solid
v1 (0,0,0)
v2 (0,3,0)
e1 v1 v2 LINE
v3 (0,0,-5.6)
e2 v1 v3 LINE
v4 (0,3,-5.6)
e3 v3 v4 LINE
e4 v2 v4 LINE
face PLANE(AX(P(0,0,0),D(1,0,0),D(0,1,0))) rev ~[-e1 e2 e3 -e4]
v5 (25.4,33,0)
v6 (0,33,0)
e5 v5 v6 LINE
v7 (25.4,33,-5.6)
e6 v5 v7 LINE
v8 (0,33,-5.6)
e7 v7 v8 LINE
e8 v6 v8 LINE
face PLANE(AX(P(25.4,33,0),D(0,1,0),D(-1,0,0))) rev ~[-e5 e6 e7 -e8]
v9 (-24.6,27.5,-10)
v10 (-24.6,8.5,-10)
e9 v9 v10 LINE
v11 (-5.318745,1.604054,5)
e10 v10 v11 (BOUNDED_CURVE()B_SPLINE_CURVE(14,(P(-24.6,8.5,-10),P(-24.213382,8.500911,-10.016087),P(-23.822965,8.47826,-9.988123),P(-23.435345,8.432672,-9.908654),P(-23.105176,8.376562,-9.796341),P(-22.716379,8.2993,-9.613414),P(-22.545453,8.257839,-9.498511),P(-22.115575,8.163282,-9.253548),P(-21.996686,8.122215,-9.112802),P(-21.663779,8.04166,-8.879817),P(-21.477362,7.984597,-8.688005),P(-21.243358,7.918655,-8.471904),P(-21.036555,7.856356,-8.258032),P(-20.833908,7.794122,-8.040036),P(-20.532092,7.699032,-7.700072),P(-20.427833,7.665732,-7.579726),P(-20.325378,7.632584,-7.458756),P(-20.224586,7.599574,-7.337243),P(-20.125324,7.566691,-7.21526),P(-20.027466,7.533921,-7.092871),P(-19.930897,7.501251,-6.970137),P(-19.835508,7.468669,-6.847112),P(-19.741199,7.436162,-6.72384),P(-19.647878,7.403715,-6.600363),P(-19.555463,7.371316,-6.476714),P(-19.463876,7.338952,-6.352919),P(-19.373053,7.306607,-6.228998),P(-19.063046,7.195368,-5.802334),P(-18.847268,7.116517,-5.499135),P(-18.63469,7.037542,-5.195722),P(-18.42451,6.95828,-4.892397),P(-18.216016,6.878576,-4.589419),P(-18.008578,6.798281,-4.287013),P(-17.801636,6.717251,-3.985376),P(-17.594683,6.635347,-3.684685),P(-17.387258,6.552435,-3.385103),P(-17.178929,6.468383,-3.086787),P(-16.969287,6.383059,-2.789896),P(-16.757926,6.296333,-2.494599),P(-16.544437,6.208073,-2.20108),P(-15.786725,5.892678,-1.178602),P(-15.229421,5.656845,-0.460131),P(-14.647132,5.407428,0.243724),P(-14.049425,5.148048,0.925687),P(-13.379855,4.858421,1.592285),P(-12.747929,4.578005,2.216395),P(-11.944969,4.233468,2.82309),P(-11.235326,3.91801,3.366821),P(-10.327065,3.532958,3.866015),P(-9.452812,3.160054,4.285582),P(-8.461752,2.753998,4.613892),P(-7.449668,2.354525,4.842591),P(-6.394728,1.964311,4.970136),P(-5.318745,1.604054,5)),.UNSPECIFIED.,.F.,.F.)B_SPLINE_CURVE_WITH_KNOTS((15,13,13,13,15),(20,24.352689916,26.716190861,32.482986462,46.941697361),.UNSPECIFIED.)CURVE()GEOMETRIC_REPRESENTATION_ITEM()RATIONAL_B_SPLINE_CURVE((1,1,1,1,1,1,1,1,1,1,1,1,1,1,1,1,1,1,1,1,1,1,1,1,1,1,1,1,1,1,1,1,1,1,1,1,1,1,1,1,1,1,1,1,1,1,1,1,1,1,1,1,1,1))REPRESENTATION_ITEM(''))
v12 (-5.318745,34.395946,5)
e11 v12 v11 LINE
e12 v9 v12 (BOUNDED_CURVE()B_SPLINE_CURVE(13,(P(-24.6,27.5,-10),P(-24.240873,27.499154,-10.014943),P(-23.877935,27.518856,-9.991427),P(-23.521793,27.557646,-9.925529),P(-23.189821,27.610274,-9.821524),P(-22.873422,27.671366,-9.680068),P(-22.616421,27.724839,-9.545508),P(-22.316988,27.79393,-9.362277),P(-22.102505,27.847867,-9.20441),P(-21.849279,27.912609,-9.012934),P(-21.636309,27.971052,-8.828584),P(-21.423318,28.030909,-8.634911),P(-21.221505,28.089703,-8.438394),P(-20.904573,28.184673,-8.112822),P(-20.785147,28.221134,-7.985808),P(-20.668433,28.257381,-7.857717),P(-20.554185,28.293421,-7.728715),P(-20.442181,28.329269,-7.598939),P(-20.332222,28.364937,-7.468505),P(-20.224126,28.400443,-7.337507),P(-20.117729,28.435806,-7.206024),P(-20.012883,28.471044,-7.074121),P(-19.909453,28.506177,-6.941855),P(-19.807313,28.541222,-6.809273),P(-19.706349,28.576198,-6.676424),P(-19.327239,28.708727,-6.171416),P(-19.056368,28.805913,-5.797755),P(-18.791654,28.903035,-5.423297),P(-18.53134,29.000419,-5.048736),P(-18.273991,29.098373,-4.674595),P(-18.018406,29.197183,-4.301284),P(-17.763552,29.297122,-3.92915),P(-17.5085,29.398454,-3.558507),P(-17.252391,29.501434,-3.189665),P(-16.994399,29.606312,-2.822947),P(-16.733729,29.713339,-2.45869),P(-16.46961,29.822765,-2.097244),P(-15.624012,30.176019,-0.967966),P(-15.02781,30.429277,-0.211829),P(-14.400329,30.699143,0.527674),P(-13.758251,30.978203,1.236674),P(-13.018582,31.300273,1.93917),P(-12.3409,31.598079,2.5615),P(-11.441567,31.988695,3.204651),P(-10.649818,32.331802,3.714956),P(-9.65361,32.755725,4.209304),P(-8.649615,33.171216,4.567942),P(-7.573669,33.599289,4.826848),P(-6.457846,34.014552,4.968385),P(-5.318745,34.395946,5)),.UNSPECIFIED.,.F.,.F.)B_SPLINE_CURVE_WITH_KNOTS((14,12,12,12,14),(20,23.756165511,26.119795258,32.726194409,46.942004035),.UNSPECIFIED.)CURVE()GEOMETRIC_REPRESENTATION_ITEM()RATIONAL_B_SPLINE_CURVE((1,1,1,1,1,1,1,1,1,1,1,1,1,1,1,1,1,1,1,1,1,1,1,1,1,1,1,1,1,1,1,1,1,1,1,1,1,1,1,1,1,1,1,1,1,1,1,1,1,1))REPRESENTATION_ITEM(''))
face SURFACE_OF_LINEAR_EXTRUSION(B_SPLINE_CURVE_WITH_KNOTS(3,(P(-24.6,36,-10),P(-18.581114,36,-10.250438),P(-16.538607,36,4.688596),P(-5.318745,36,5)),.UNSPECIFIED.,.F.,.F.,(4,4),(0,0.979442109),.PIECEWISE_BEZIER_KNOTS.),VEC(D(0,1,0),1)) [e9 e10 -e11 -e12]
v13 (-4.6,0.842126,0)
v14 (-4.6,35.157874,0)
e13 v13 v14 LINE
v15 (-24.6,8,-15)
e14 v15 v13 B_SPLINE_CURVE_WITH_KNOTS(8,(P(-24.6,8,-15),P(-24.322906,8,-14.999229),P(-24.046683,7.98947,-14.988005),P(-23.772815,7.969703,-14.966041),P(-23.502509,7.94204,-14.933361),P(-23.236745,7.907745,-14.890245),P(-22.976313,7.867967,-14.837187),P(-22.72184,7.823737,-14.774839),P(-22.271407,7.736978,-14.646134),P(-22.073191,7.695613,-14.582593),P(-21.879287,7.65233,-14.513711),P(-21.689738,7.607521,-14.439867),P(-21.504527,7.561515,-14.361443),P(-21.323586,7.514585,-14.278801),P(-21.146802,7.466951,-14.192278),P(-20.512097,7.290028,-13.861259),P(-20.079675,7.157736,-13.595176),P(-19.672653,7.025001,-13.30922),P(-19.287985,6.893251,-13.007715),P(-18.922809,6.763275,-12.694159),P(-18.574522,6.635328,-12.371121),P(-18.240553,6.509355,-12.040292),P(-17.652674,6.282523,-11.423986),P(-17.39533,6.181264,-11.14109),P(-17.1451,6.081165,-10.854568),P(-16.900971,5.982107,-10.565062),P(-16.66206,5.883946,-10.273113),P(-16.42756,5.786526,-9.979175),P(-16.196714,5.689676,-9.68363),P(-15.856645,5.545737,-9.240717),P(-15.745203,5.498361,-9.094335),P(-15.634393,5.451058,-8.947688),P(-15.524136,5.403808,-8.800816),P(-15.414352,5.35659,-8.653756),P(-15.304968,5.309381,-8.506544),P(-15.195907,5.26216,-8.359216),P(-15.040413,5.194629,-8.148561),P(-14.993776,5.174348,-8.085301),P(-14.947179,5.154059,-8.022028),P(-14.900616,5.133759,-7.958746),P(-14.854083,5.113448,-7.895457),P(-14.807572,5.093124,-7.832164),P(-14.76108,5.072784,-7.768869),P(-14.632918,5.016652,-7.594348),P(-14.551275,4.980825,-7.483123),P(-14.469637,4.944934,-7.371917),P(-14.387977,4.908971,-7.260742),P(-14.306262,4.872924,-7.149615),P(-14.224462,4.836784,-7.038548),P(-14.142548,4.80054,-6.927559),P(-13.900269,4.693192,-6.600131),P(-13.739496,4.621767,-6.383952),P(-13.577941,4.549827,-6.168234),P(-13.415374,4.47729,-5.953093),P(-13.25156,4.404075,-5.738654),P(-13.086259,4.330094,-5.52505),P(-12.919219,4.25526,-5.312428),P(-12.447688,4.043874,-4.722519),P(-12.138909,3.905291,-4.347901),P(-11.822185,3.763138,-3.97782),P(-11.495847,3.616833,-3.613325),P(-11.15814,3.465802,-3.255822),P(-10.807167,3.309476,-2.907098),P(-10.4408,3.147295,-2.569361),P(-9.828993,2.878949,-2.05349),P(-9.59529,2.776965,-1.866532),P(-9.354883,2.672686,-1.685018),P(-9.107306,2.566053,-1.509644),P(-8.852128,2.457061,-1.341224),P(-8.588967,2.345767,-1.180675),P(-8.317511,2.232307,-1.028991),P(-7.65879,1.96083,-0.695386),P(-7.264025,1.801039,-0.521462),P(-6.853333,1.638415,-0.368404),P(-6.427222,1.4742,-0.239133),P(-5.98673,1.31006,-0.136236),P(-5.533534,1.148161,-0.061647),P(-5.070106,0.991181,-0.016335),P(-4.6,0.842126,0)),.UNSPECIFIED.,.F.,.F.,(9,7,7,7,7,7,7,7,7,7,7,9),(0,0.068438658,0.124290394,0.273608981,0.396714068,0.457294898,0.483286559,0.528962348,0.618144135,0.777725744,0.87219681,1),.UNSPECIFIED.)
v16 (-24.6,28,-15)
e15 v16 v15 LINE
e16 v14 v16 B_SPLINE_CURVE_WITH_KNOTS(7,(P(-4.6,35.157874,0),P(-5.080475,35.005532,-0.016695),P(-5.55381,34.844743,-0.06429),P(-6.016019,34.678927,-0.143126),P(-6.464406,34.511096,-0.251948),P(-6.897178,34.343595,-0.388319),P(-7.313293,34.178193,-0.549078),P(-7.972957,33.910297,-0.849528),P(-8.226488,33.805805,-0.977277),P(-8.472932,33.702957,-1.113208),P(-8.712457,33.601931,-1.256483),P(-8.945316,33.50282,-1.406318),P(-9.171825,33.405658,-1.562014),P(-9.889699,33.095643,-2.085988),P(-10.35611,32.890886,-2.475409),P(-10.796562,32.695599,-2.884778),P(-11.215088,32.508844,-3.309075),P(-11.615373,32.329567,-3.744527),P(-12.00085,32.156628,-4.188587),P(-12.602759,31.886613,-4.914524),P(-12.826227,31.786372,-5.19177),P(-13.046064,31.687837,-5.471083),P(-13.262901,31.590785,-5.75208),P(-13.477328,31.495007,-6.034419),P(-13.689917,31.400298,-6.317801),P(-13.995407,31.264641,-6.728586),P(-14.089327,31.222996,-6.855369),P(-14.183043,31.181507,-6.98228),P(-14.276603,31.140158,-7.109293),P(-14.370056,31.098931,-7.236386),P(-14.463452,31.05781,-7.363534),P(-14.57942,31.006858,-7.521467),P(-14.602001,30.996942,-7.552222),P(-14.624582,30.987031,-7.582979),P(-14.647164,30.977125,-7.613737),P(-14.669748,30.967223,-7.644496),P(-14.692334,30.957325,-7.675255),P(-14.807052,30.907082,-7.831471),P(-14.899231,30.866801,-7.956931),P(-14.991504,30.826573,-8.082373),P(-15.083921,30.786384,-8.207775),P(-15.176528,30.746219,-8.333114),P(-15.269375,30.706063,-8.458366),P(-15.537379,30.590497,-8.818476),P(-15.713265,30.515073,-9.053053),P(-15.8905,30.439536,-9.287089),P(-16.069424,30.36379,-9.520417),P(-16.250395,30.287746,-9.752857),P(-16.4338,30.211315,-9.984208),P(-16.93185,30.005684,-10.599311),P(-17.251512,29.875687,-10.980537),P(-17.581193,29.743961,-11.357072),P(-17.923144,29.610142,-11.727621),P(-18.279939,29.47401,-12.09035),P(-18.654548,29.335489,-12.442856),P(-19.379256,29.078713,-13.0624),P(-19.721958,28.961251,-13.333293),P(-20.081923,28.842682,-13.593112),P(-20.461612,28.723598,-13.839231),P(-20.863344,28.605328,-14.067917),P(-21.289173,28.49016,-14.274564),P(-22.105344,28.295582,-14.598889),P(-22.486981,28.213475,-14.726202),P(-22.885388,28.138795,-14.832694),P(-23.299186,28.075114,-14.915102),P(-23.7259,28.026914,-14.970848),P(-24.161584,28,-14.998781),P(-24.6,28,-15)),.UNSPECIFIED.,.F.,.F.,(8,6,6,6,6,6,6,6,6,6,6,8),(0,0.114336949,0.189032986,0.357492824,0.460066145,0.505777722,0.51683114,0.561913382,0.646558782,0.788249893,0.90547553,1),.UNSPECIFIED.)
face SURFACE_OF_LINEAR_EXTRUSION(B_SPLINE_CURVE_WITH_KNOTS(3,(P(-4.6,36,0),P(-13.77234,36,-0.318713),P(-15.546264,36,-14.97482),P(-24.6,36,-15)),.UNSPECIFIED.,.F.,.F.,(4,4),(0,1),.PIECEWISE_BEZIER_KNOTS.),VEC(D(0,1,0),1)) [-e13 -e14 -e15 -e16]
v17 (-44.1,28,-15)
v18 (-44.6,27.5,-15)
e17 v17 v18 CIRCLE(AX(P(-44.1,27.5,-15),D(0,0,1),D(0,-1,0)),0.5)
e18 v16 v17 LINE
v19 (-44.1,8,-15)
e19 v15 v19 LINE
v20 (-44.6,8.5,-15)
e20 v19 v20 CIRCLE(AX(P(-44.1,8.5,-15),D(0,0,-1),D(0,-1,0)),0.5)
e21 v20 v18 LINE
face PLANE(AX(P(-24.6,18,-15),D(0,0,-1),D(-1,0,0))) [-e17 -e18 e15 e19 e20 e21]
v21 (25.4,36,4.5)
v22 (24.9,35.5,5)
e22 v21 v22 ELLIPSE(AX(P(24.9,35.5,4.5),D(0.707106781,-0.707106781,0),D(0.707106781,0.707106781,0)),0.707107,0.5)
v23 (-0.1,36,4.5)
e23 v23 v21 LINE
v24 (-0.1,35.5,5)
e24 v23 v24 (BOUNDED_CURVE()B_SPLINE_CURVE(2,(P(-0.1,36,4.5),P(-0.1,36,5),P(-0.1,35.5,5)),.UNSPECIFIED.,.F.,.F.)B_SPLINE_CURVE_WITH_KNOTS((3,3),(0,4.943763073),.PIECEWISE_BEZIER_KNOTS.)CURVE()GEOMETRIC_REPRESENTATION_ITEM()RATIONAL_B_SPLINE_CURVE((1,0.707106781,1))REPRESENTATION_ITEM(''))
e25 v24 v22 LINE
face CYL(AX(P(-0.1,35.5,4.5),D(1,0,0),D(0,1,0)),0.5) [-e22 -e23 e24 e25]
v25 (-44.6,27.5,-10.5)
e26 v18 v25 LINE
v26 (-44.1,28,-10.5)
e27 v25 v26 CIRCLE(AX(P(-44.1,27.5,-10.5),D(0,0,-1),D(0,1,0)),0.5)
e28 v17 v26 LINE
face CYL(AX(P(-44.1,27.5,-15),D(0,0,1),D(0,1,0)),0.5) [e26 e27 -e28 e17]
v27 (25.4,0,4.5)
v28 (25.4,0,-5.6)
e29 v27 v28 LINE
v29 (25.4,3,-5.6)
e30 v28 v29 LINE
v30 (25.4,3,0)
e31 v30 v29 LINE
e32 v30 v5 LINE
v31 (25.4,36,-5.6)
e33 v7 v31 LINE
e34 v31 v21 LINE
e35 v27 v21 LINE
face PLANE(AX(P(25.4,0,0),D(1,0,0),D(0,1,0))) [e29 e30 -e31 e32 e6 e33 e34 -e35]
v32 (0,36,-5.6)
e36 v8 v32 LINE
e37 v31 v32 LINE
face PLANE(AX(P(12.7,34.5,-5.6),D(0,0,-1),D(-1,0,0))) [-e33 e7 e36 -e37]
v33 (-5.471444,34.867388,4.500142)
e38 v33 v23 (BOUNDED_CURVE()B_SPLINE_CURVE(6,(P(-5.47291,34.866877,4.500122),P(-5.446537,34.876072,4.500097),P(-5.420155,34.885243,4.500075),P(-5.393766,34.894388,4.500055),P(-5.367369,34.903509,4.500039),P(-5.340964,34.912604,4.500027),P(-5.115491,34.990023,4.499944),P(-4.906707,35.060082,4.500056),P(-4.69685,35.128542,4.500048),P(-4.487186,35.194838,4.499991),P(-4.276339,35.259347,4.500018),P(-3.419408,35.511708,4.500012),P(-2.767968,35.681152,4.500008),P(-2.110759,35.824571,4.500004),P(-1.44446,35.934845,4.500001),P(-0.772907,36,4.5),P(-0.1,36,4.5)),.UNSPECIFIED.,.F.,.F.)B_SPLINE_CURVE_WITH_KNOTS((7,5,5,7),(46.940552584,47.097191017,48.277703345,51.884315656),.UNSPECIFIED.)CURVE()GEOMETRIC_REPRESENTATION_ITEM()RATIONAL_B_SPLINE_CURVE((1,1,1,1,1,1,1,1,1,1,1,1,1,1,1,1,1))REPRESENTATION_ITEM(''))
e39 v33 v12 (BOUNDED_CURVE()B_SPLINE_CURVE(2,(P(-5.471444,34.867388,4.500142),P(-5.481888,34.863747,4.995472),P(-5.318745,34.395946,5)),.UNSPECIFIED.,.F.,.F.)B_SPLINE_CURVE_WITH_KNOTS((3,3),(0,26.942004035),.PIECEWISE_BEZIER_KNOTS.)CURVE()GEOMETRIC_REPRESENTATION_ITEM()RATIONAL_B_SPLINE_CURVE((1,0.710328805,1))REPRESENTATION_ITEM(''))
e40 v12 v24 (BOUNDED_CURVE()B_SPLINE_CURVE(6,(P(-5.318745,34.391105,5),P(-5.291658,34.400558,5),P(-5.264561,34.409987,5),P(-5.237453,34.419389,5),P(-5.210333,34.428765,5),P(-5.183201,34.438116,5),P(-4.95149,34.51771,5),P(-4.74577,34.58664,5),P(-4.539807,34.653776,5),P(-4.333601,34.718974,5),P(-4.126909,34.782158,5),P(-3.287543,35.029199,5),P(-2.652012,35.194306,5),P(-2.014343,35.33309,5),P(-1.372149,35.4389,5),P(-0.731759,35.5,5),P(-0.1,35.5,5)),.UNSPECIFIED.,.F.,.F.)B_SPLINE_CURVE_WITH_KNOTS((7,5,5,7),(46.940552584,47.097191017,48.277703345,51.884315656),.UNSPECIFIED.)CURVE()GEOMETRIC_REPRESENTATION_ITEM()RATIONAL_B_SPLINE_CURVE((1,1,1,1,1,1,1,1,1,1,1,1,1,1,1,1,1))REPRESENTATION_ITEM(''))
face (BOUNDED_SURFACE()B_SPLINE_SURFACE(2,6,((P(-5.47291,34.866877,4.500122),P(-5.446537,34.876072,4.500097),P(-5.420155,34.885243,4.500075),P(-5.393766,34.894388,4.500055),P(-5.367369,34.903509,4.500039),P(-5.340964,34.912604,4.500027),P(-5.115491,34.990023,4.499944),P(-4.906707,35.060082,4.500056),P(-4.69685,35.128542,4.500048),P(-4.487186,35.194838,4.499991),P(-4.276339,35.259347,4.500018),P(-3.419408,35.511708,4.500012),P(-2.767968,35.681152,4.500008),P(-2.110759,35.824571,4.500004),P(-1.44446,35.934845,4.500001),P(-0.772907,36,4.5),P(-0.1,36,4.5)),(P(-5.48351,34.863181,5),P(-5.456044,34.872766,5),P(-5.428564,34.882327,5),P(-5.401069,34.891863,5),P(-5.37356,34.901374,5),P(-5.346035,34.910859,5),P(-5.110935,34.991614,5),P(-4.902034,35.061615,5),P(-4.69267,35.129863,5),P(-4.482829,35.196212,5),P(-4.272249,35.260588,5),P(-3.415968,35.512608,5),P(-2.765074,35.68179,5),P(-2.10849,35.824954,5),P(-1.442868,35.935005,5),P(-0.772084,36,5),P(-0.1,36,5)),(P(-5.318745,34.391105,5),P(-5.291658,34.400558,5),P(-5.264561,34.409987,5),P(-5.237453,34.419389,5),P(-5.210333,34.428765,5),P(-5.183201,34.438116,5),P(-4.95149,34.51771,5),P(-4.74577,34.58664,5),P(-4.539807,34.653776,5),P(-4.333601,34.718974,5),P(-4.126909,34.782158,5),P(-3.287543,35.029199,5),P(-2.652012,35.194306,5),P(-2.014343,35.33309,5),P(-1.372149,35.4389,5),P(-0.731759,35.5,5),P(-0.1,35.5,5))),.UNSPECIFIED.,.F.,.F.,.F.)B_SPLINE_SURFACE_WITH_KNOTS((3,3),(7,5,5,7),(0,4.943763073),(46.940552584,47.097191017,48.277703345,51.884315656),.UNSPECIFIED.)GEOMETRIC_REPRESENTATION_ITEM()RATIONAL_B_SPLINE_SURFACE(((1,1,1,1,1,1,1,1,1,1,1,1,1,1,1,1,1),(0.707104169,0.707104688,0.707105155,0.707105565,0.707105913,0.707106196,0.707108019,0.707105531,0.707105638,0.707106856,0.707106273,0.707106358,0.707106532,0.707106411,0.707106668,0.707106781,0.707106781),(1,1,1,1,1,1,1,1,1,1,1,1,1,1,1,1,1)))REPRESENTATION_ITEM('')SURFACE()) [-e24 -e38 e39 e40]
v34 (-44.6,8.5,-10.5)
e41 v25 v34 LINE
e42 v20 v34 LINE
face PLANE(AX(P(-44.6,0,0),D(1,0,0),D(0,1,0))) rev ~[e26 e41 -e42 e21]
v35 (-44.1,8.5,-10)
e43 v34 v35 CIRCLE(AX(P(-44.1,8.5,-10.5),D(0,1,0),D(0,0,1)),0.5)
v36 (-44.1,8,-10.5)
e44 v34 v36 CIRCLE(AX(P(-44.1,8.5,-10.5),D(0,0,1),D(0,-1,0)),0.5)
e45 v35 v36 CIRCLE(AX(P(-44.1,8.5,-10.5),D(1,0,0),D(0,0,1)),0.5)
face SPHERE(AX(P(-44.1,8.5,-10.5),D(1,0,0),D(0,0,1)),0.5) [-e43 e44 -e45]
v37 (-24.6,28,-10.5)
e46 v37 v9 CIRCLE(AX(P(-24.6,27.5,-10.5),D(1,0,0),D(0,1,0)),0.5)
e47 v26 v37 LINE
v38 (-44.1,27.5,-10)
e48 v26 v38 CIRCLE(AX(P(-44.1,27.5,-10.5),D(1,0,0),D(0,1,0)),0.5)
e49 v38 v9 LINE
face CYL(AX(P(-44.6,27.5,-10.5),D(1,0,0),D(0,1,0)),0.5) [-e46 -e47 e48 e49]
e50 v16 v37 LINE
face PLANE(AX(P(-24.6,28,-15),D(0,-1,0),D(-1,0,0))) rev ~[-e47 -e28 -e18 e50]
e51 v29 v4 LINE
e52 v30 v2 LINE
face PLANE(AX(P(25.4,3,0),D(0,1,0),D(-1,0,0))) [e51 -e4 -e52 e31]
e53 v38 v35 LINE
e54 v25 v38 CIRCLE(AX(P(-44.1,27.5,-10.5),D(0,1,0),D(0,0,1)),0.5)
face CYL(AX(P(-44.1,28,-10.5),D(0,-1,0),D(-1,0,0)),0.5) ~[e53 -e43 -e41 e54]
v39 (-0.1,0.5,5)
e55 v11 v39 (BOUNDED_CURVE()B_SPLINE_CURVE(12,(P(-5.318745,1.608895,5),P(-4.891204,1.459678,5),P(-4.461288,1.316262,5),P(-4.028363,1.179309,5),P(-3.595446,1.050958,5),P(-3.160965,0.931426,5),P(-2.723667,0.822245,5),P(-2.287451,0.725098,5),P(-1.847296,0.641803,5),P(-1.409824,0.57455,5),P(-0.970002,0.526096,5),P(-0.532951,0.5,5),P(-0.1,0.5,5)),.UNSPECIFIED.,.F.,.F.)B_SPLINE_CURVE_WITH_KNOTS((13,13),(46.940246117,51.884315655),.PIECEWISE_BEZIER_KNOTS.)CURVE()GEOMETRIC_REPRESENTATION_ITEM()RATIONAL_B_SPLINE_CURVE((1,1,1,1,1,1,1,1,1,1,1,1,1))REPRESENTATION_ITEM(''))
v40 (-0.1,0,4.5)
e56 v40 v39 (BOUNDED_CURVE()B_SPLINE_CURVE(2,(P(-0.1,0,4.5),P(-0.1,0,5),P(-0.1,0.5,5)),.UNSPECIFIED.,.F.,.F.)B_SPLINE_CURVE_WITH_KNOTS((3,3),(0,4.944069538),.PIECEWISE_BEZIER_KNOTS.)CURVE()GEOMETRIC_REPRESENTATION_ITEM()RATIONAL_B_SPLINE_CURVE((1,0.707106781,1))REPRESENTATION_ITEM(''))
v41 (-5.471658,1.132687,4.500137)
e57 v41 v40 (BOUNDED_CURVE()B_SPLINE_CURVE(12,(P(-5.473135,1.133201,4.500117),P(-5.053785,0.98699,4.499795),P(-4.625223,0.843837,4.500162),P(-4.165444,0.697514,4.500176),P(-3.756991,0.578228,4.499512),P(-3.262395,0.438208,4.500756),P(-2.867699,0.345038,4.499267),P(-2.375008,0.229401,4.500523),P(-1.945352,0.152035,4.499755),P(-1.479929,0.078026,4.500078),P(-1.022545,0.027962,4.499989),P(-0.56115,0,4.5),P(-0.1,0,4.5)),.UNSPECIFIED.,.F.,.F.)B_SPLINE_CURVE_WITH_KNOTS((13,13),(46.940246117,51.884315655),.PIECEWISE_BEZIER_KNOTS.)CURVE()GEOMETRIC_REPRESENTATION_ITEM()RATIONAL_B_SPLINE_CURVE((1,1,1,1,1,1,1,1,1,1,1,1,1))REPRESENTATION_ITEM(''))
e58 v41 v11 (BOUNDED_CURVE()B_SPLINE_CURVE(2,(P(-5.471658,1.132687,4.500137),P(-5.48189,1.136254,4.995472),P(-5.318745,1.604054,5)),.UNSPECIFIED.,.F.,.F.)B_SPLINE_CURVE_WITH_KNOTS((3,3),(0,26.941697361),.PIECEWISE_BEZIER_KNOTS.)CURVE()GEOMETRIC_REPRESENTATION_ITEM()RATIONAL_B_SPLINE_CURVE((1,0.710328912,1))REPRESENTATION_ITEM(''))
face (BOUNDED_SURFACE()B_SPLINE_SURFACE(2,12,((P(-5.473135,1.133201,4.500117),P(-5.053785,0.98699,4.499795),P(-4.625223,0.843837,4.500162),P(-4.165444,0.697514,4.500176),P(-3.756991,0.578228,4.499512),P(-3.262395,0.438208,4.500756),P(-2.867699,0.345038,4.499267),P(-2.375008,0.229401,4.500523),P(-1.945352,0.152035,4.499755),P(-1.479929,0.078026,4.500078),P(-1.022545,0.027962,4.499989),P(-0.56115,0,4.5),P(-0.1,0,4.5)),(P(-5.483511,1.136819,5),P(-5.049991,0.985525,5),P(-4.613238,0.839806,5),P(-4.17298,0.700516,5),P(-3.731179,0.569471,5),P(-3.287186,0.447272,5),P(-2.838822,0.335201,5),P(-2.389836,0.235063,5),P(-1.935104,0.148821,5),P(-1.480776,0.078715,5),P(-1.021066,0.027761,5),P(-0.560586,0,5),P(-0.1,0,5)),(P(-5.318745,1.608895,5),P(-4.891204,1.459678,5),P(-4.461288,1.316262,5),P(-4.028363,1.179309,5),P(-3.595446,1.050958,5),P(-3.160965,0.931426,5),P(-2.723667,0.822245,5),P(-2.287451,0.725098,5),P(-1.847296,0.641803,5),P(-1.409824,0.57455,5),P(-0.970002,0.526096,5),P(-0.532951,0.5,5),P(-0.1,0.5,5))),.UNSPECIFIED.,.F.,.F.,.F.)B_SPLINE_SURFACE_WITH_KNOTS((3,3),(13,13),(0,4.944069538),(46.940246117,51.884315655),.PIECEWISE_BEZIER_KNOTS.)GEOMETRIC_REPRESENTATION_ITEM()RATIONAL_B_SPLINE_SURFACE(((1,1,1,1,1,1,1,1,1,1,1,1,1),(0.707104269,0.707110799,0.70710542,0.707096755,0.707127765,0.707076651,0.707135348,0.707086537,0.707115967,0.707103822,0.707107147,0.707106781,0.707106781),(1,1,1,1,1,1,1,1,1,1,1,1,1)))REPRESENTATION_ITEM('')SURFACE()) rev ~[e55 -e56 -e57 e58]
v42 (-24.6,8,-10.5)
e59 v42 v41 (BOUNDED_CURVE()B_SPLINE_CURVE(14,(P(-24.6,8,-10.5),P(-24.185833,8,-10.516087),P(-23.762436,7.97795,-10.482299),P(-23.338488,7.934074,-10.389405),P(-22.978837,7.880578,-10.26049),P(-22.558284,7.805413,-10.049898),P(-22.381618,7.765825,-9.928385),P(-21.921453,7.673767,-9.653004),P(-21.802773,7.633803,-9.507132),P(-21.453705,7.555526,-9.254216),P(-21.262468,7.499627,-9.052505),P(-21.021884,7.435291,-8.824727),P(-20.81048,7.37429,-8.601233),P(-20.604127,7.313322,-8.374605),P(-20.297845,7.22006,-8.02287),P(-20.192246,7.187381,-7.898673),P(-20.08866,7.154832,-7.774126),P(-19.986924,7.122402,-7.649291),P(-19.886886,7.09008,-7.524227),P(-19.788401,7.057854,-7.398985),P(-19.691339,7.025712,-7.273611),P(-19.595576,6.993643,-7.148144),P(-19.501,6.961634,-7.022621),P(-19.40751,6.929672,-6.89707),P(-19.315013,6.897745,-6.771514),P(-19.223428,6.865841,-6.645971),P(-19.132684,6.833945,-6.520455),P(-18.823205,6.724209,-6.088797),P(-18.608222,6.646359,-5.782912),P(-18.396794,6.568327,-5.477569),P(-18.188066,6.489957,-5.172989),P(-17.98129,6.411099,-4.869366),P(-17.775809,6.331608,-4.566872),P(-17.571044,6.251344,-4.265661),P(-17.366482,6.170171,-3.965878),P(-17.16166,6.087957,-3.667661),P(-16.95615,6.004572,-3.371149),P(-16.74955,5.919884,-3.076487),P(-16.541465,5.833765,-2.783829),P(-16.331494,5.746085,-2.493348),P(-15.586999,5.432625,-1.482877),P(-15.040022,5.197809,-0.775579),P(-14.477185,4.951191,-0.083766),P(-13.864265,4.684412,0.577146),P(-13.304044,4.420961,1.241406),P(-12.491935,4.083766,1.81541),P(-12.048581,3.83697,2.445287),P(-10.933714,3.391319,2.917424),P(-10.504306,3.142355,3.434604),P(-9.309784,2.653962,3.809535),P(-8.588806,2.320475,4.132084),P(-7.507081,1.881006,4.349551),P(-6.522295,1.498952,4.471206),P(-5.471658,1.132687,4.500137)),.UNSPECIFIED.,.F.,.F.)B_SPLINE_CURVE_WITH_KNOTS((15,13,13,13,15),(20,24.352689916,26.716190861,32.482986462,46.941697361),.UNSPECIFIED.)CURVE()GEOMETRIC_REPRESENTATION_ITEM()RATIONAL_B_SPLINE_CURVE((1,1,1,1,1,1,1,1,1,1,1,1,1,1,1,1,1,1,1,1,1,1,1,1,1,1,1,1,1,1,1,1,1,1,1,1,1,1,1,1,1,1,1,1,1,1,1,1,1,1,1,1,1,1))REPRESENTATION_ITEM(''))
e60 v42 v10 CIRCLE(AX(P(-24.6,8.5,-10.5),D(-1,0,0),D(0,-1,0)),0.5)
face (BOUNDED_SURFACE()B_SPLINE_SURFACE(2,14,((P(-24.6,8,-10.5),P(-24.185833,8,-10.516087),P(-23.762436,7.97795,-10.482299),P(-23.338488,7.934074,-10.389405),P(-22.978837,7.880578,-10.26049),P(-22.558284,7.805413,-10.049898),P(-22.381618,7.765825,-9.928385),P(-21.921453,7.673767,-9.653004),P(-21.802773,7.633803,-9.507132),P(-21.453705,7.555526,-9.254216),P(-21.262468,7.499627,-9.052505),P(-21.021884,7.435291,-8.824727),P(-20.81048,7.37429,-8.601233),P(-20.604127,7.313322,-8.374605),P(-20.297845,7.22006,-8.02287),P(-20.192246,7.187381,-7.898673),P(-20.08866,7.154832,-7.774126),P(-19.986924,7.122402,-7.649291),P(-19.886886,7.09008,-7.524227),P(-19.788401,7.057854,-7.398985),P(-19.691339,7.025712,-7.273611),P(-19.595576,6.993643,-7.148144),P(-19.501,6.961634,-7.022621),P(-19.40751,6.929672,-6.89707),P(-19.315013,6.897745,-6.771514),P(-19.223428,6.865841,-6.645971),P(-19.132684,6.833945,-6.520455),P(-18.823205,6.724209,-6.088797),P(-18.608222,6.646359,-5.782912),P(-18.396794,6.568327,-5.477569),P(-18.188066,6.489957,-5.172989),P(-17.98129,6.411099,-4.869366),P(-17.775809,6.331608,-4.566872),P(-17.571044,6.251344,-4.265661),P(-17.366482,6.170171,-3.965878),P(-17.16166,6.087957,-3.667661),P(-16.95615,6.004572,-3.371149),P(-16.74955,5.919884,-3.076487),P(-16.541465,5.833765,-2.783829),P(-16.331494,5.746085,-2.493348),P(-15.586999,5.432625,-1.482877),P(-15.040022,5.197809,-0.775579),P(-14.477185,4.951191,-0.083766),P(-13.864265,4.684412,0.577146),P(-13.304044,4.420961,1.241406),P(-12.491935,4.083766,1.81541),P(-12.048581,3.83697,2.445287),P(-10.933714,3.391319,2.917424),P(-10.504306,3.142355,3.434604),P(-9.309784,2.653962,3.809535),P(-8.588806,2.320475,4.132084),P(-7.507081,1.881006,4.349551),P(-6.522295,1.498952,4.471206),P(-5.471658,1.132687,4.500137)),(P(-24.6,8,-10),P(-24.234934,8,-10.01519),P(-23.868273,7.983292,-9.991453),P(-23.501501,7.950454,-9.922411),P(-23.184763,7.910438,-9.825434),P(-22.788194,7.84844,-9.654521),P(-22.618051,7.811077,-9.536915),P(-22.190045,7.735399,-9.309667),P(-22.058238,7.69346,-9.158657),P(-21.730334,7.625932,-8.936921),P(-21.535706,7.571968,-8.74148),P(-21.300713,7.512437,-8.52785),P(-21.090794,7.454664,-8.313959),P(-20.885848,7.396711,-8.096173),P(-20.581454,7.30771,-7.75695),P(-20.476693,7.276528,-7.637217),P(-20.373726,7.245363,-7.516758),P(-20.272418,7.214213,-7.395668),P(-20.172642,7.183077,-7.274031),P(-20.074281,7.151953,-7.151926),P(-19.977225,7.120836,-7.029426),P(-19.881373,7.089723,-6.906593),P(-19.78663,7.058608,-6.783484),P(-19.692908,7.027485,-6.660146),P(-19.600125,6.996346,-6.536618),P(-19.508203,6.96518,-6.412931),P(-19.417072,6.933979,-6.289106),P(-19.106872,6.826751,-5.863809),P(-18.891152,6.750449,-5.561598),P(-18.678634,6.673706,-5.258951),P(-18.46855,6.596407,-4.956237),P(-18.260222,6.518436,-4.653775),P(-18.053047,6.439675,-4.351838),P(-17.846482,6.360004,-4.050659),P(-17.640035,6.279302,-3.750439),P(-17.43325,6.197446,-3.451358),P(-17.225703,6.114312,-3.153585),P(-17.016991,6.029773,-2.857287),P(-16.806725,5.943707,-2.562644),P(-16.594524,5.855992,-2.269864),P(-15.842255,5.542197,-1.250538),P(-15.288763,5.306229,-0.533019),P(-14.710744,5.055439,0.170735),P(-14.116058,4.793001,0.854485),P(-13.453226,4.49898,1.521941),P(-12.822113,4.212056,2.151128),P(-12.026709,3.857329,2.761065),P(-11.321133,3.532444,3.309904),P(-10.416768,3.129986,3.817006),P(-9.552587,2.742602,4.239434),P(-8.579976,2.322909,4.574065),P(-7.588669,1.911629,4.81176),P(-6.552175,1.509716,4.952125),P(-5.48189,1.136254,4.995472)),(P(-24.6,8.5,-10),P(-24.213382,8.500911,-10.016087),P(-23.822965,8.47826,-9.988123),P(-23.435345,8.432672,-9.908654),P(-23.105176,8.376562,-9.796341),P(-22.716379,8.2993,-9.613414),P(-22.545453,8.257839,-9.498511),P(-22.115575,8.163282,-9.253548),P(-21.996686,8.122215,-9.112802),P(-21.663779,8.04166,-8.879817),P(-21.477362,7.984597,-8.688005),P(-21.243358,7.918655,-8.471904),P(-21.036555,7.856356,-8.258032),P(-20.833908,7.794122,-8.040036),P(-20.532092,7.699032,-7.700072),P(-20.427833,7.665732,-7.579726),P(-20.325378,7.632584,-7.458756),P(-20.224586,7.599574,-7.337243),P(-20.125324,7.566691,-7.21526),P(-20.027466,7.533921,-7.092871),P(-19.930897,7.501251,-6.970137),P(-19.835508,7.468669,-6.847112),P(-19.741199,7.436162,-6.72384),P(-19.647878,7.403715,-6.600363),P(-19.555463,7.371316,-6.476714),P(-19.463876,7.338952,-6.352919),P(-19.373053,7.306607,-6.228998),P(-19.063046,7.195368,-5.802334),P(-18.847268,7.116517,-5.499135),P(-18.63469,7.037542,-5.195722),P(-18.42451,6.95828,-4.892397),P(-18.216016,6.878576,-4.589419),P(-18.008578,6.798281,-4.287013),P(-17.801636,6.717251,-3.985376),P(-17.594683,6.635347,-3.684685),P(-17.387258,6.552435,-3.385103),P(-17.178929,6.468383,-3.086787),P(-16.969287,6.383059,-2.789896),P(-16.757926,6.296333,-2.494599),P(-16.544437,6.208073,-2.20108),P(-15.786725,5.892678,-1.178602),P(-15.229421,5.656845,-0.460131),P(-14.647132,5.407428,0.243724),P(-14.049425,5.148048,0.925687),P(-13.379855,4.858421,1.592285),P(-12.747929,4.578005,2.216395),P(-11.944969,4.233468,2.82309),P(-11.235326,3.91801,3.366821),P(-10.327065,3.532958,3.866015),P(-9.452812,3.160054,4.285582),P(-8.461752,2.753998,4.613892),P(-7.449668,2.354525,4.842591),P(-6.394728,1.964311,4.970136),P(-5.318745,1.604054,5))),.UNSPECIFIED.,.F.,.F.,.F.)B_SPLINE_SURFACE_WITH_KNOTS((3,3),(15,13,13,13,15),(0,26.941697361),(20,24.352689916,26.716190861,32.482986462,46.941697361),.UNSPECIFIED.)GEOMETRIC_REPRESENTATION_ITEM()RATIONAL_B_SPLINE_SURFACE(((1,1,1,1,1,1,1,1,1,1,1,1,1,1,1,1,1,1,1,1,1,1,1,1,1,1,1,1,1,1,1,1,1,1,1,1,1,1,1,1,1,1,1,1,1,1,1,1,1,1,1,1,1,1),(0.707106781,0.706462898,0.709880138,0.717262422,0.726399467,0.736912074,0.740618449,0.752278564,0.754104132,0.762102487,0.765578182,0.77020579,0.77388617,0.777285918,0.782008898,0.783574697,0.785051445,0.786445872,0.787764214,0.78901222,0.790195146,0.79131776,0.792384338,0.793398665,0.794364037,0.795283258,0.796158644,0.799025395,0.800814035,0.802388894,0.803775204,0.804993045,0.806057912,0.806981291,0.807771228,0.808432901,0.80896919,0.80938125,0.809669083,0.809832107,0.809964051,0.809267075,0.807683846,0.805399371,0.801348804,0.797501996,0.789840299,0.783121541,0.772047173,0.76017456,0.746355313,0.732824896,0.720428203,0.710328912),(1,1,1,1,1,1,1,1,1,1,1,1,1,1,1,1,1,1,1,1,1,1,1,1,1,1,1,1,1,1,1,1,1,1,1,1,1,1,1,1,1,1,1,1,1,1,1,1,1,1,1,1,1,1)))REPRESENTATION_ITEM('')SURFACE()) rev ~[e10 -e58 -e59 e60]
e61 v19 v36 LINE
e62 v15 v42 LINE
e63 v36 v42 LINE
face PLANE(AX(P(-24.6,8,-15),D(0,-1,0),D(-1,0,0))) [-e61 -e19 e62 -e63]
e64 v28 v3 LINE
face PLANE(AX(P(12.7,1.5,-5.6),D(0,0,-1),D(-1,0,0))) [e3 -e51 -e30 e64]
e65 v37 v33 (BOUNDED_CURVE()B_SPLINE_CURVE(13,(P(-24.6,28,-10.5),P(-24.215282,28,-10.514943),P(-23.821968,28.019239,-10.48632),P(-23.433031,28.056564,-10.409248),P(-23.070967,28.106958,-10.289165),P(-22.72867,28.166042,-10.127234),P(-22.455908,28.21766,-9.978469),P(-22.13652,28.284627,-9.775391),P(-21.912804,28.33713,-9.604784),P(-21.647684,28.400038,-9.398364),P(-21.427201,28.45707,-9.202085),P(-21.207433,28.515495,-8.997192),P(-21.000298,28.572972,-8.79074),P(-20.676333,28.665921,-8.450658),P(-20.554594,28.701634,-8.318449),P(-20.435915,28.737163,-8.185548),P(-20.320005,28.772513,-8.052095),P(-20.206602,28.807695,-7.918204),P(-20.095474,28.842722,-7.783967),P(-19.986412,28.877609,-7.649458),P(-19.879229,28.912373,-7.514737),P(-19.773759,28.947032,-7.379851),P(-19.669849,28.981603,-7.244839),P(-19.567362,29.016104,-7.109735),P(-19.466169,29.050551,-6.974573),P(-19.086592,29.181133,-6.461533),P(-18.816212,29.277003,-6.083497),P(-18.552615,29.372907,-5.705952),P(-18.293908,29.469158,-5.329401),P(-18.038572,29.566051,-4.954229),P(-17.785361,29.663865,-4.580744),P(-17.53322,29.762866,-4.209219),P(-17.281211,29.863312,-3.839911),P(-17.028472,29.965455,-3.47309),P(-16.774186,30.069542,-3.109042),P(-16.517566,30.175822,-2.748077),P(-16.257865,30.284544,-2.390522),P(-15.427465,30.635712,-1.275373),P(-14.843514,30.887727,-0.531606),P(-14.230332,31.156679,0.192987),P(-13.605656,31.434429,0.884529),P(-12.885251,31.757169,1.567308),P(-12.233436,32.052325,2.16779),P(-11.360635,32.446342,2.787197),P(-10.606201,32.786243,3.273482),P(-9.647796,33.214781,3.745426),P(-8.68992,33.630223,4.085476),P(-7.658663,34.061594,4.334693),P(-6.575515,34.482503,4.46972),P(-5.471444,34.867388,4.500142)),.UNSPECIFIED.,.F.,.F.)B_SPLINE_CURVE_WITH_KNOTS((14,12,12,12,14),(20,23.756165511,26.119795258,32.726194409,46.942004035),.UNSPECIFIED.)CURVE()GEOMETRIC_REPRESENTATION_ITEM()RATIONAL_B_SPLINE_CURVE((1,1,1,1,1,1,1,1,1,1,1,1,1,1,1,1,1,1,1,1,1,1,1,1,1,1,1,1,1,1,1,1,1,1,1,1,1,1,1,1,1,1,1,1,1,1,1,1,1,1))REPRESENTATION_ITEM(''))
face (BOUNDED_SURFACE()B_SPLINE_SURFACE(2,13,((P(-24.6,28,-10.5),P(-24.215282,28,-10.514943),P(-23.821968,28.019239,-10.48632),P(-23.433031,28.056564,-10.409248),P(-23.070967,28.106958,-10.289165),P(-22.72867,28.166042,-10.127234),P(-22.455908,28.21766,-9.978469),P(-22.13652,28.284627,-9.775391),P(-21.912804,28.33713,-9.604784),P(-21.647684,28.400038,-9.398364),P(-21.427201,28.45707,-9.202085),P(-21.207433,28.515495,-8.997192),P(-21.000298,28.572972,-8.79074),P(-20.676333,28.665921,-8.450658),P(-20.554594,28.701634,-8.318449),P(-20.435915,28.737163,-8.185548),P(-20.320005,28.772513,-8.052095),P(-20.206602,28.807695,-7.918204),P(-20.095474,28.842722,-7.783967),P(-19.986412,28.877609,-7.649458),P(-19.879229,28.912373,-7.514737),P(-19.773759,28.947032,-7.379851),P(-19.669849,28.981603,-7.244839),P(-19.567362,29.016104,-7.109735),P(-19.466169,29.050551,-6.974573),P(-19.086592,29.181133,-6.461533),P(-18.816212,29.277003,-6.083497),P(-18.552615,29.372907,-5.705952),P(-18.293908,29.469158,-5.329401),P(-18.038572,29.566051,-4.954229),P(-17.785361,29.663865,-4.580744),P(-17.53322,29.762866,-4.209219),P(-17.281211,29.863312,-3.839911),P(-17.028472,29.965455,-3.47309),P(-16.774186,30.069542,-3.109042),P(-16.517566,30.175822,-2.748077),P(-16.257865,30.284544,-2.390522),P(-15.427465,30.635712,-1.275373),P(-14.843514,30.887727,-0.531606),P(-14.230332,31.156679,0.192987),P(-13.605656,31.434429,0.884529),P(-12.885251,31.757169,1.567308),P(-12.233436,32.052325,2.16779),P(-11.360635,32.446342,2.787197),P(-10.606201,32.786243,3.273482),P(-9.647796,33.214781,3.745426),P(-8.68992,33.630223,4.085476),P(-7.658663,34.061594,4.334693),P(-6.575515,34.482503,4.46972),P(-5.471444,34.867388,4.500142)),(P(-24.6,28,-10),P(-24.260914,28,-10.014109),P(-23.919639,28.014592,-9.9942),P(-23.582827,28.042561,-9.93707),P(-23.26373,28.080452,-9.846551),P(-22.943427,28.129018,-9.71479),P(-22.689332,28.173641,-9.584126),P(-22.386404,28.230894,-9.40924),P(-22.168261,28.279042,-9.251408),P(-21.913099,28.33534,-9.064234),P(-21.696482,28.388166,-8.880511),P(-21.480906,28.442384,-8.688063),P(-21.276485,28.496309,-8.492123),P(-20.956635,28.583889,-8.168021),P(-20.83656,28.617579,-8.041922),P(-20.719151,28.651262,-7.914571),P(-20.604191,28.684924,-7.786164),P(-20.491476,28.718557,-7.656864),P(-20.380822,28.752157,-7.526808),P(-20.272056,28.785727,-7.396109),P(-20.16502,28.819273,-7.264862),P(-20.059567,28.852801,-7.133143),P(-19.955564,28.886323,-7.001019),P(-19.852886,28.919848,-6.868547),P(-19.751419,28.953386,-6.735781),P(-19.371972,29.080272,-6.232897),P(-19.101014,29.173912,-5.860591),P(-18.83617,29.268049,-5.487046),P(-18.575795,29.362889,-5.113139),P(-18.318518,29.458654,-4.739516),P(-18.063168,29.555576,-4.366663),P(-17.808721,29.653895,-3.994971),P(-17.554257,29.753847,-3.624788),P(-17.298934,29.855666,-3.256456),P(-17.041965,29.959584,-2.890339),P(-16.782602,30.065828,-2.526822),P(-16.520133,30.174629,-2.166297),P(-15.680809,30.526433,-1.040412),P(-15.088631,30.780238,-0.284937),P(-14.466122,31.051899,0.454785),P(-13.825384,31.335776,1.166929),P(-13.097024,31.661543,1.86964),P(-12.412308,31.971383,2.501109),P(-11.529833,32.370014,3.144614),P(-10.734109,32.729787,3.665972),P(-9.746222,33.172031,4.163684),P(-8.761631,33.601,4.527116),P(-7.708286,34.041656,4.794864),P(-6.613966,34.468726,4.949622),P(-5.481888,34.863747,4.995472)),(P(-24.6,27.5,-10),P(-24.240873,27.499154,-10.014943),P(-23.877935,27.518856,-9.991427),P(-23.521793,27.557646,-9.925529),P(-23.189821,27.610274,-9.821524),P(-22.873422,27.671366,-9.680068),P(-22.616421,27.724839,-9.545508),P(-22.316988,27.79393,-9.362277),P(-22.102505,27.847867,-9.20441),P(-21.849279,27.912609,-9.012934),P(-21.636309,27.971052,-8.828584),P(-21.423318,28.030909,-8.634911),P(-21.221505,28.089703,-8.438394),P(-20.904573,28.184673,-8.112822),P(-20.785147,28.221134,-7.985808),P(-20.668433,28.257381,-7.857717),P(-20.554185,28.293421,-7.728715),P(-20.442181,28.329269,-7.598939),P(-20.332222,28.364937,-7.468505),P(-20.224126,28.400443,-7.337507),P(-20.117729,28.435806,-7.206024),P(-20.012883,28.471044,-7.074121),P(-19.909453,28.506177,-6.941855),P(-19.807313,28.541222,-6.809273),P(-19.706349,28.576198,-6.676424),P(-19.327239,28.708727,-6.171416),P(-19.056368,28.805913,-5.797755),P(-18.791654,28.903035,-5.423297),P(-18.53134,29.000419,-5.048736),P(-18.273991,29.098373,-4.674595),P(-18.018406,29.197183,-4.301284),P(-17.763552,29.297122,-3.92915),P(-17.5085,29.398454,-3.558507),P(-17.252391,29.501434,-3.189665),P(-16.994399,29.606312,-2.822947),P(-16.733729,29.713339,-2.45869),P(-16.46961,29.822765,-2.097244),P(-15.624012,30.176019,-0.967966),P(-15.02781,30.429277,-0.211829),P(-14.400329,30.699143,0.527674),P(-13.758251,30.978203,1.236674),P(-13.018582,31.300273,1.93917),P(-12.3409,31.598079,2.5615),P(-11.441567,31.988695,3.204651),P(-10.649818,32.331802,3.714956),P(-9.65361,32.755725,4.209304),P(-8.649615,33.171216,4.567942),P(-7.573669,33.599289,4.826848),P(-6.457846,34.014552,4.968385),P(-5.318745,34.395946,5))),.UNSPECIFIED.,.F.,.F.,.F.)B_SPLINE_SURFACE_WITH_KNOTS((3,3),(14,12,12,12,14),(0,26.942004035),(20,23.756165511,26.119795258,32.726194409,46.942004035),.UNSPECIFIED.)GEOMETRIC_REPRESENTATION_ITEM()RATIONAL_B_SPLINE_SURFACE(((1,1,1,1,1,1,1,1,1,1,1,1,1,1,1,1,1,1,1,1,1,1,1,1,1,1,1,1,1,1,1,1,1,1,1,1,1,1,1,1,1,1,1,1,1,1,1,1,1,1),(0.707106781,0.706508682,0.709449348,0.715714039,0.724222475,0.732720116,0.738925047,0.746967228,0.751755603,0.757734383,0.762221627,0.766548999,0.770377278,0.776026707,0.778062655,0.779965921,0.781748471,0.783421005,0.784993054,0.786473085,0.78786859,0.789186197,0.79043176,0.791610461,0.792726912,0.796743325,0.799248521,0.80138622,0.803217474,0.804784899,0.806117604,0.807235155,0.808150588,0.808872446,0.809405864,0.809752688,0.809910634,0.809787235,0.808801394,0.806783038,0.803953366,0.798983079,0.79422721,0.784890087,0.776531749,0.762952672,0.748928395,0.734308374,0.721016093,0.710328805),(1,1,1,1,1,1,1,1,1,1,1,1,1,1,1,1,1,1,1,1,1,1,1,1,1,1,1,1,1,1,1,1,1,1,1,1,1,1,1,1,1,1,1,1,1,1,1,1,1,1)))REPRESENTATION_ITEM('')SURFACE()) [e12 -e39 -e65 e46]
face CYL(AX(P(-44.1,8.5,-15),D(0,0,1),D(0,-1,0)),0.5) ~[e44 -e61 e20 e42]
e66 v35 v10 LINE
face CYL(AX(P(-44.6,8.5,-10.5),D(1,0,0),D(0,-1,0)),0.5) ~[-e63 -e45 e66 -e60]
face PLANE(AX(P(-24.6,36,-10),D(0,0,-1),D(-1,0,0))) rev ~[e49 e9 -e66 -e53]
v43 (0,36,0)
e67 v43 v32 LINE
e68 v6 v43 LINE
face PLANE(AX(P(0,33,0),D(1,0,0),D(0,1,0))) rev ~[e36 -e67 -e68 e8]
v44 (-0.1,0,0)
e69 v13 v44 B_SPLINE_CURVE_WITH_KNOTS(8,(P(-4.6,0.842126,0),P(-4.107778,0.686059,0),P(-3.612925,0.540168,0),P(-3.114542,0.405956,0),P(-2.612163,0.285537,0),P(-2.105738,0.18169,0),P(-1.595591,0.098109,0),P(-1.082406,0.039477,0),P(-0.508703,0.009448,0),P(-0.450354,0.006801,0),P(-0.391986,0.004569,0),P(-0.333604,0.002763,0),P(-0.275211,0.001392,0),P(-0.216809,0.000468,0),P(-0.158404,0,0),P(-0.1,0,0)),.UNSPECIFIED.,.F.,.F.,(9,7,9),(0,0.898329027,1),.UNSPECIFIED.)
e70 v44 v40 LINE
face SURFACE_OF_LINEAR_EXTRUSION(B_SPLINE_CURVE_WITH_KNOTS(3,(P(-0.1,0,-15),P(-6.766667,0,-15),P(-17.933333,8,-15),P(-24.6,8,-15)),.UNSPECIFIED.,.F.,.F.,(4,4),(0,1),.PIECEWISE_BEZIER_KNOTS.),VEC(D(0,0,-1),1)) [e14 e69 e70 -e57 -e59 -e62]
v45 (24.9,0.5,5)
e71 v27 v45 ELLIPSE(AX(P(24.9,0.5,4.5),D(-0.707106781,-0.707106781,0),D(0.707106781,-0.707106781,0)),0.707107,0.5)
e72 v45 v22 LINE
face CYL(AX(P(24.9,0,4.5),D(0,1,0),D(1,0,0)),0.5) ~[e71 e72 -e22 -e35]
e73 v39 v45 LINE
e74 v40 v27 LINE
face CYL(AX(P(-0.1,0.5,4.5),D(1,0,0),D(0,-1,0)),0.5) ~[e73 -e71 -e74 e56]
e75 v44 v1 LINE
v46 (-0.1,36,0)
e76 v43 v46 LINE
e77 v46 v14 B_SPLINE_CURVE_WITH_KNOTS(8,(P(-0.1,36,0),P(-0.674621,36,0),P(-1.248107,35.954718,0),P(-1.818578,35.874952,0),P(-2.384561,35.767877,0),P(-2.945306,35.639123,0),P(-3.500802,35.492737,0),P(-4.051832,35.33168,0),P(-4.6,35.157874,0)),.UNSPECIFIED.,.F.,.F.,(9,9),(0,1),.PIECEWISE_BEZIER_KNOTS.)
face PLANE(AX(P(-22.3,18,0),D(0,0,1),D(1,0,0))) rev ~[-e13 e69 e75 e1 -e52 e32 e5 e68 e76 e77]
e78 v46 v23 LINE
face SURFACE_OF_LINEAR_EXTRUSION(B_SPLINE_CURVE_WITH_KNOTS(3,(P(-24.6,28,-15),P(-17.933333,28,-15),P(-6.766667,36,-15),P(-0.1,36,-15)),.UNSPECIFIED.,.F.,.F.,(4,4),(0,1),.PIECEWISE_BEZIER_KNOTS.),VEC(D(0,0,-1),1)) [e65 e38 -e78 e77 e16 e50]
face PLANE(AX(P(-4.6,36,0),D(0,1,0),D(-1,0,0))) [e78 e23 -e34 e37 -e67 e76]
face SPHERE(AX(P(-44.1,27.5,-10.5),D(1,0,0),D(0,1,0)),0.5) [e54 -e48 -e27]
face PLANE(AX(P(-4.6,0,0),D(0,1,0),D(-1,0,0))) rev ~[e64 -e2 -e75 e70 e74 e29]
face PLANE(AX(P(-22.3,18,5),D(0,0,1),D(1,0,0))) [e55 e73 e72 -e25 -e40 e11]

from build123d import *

# Parameters (mm, degrees)
ESQUISSE1_W             = 44.6
ESQUISSE1_H             = 36
ESQUISSE1_W_2           = 25.4
BOSS_EXTRU_1_DEPTH      = 5
ESQUISSE2_W             = 25.4
ESQUISSE2_H             = 3
BOSS_EXTRU_2_DEPTH      = 5.6
ESQUISSE3_W             = 40
ESQUISSE3_H             = 36
BOSS_EXTRU_4_DEPTH      = 15
ENL_V_MAT_EXTRU_3_DEPTH = 60.246603278
ESQUISSE7_W             = 20
ESQUISSE7_H             = 8
ENL_V_MAT_EXTRU_4_DEPTH = 61.70551886
CONG_4_R                = 0.5


with BuildPart() as part:
    # Esquisse1 → Boss.-Extru.1 (new body)
    with BuildSketch(Plane.XY):
        with Locations((-22.3, 18)):
            Rectangle(ESQUISSE1_W, ESQUISSE1_H)
        with Locations((12.7, 18)):
            Rectangle(ESQUISSE1_W_2, ESQUISSE1_H)
    extrude(amount=BOSS_EXTRU_1_DEPTH)

    # Esquisse2 → Boss.-Extru.2 (add)
    with BuildSketch(Plane(origin=(0, 0, 0), x_dir=(-1, 0, 0), z_dir=(0, 0, -1))):
        with Locations((-12.7, 1.5)):
            Rectangle(ESQUISSE2_W, ESQUISSE2_H)
        with Locations((-12.7, 34.5)):
            Rectangle(ESQUISSE2_W, ESQUISSE2_H)
    extrude(amount=BOSS_EXTRU_2_DEPTH)

    # Esquisse3 → Boss.-Extru.4 (add)
    with BuildSketch(Plane(origin=(0, 0, 0), x_dir=(-1, 0, 0), z_dir=(0, 0, -1))):
        with Locations((24.6, 18)):
            Rectangle(ESQUISSE3_W, ESQUISSE3_H)
    extrude(amount=BOSS_EXTRU_4_DEPTH)

    # Esquisse4 → Enlèv. mat.-Extru.3 (cut, through all)
    with BuildSketch(Plane(origin=(0, 36, 0), x_dir=(1, 0, 0), z_dir=(0, 1, 0))):
        with BuildLine():
            Line((-24.6, 10), (-44.6, 10))
            Line((-44.6, 10), (-44.6, -5))
            Line((-44.6, -5), (-9.6, -5))
            Line((-9.6, -5), (-5.318745152, -5))
            add(Edge.make_bspline(
                [(-24.6, 10), (-18.581113582, 10.250438225), (-16.538607269, -4.688596284), (-5.318745152, -5)],
                knots=[0, 0, 0, 0, 0.979442109, 0.979442109, 0.979442109, 0.979442109], degree=3))
        make_face()
        with BuildLine():
            Line((-4.6, 15), (-24.6, 15))
            add(Edge.make_bspline(
                [(-4.6, 0), (-13.772339743, 0.318713019), (-15.546263661, 14.974819889), (-24.6, 15)],
                knots=[0, 0, 0, 0, 1, 1, 1, 1], degree=3))
            Line((-4.6, 0), (-4.6, 15))
        make_face()
    extrude(amount=-ENL_V_MAT_EXTRU_3_DEPTH, mode=Mode.SUBTRACT)

    # Esquisse7 → Enlèv. mat.-Extru.4 (cut, through all)
    with BuildSketch(Plane(origin=(0, 0, -15), x_dir=(-1, 0, 0), z_dir=(0, 0, -1))):
        with Locations((34.6, 4)):
            Rectangle(ESQUISSE7_W, ESQUISSE7_H)
        with BuildLine():
            Line((24.6, 0), (24.6, 8))
            add(Edge.make_bspline(
                [(0.1, 0), (6.766666667, 0), (17.933333333, 8), (24.6, 8)],
                knots=[0, 0, 0, 0, 1, 1, 1, 1], degree=3))
            Line((0.1, 0), (24.6, 0))
        make_face()
        with BuildLine():
            add(Edge.make_bspline(
                [(24.6, 28), (17.933333333, 28), (6.766666667, 36), (0.1, 36)],
                knots=[0, 0, 0, 0, 1, 1, 1, 1], degree=3))
            Line((24.6, 28), (24.6, 36))
            Line((24.6, 36), (0.1, 36))
        make_face()
        with Locations((34.6, 32)):
            Rectangle(ESQUISSE7_W, ESQUISSE7_H)
    extrude(amount=-ENL_V_MAT_EXTRU_4_DEPTH, mode=Mode.SUBTRACT)

    # Congé4
    cong_4_edges = [part.edges().sort_by_distance(p)[0] for p in [
        (-15.717570787, 30.513571579, -1.106703523),
        (-44.6, 28, -12.5),
        (-2.74987965, 35.666138518, 5),
        (12.65, 0, 5),
        (25.4, 18, 5),
        (12.65, 36, 5),
        (-44.6, 18, -10),
        (-34.6, 28, -10),
        (-34.6, 8, -10),
        (-15.717570798, 5.486428428, -1.10670351),
        (-44.6, 8, -12.5),
        (-2.749879652, 0.333861473, 5),
    ]]
    fillet(cong_4_edges, radius=CONG_4_R)


solid = part.part
